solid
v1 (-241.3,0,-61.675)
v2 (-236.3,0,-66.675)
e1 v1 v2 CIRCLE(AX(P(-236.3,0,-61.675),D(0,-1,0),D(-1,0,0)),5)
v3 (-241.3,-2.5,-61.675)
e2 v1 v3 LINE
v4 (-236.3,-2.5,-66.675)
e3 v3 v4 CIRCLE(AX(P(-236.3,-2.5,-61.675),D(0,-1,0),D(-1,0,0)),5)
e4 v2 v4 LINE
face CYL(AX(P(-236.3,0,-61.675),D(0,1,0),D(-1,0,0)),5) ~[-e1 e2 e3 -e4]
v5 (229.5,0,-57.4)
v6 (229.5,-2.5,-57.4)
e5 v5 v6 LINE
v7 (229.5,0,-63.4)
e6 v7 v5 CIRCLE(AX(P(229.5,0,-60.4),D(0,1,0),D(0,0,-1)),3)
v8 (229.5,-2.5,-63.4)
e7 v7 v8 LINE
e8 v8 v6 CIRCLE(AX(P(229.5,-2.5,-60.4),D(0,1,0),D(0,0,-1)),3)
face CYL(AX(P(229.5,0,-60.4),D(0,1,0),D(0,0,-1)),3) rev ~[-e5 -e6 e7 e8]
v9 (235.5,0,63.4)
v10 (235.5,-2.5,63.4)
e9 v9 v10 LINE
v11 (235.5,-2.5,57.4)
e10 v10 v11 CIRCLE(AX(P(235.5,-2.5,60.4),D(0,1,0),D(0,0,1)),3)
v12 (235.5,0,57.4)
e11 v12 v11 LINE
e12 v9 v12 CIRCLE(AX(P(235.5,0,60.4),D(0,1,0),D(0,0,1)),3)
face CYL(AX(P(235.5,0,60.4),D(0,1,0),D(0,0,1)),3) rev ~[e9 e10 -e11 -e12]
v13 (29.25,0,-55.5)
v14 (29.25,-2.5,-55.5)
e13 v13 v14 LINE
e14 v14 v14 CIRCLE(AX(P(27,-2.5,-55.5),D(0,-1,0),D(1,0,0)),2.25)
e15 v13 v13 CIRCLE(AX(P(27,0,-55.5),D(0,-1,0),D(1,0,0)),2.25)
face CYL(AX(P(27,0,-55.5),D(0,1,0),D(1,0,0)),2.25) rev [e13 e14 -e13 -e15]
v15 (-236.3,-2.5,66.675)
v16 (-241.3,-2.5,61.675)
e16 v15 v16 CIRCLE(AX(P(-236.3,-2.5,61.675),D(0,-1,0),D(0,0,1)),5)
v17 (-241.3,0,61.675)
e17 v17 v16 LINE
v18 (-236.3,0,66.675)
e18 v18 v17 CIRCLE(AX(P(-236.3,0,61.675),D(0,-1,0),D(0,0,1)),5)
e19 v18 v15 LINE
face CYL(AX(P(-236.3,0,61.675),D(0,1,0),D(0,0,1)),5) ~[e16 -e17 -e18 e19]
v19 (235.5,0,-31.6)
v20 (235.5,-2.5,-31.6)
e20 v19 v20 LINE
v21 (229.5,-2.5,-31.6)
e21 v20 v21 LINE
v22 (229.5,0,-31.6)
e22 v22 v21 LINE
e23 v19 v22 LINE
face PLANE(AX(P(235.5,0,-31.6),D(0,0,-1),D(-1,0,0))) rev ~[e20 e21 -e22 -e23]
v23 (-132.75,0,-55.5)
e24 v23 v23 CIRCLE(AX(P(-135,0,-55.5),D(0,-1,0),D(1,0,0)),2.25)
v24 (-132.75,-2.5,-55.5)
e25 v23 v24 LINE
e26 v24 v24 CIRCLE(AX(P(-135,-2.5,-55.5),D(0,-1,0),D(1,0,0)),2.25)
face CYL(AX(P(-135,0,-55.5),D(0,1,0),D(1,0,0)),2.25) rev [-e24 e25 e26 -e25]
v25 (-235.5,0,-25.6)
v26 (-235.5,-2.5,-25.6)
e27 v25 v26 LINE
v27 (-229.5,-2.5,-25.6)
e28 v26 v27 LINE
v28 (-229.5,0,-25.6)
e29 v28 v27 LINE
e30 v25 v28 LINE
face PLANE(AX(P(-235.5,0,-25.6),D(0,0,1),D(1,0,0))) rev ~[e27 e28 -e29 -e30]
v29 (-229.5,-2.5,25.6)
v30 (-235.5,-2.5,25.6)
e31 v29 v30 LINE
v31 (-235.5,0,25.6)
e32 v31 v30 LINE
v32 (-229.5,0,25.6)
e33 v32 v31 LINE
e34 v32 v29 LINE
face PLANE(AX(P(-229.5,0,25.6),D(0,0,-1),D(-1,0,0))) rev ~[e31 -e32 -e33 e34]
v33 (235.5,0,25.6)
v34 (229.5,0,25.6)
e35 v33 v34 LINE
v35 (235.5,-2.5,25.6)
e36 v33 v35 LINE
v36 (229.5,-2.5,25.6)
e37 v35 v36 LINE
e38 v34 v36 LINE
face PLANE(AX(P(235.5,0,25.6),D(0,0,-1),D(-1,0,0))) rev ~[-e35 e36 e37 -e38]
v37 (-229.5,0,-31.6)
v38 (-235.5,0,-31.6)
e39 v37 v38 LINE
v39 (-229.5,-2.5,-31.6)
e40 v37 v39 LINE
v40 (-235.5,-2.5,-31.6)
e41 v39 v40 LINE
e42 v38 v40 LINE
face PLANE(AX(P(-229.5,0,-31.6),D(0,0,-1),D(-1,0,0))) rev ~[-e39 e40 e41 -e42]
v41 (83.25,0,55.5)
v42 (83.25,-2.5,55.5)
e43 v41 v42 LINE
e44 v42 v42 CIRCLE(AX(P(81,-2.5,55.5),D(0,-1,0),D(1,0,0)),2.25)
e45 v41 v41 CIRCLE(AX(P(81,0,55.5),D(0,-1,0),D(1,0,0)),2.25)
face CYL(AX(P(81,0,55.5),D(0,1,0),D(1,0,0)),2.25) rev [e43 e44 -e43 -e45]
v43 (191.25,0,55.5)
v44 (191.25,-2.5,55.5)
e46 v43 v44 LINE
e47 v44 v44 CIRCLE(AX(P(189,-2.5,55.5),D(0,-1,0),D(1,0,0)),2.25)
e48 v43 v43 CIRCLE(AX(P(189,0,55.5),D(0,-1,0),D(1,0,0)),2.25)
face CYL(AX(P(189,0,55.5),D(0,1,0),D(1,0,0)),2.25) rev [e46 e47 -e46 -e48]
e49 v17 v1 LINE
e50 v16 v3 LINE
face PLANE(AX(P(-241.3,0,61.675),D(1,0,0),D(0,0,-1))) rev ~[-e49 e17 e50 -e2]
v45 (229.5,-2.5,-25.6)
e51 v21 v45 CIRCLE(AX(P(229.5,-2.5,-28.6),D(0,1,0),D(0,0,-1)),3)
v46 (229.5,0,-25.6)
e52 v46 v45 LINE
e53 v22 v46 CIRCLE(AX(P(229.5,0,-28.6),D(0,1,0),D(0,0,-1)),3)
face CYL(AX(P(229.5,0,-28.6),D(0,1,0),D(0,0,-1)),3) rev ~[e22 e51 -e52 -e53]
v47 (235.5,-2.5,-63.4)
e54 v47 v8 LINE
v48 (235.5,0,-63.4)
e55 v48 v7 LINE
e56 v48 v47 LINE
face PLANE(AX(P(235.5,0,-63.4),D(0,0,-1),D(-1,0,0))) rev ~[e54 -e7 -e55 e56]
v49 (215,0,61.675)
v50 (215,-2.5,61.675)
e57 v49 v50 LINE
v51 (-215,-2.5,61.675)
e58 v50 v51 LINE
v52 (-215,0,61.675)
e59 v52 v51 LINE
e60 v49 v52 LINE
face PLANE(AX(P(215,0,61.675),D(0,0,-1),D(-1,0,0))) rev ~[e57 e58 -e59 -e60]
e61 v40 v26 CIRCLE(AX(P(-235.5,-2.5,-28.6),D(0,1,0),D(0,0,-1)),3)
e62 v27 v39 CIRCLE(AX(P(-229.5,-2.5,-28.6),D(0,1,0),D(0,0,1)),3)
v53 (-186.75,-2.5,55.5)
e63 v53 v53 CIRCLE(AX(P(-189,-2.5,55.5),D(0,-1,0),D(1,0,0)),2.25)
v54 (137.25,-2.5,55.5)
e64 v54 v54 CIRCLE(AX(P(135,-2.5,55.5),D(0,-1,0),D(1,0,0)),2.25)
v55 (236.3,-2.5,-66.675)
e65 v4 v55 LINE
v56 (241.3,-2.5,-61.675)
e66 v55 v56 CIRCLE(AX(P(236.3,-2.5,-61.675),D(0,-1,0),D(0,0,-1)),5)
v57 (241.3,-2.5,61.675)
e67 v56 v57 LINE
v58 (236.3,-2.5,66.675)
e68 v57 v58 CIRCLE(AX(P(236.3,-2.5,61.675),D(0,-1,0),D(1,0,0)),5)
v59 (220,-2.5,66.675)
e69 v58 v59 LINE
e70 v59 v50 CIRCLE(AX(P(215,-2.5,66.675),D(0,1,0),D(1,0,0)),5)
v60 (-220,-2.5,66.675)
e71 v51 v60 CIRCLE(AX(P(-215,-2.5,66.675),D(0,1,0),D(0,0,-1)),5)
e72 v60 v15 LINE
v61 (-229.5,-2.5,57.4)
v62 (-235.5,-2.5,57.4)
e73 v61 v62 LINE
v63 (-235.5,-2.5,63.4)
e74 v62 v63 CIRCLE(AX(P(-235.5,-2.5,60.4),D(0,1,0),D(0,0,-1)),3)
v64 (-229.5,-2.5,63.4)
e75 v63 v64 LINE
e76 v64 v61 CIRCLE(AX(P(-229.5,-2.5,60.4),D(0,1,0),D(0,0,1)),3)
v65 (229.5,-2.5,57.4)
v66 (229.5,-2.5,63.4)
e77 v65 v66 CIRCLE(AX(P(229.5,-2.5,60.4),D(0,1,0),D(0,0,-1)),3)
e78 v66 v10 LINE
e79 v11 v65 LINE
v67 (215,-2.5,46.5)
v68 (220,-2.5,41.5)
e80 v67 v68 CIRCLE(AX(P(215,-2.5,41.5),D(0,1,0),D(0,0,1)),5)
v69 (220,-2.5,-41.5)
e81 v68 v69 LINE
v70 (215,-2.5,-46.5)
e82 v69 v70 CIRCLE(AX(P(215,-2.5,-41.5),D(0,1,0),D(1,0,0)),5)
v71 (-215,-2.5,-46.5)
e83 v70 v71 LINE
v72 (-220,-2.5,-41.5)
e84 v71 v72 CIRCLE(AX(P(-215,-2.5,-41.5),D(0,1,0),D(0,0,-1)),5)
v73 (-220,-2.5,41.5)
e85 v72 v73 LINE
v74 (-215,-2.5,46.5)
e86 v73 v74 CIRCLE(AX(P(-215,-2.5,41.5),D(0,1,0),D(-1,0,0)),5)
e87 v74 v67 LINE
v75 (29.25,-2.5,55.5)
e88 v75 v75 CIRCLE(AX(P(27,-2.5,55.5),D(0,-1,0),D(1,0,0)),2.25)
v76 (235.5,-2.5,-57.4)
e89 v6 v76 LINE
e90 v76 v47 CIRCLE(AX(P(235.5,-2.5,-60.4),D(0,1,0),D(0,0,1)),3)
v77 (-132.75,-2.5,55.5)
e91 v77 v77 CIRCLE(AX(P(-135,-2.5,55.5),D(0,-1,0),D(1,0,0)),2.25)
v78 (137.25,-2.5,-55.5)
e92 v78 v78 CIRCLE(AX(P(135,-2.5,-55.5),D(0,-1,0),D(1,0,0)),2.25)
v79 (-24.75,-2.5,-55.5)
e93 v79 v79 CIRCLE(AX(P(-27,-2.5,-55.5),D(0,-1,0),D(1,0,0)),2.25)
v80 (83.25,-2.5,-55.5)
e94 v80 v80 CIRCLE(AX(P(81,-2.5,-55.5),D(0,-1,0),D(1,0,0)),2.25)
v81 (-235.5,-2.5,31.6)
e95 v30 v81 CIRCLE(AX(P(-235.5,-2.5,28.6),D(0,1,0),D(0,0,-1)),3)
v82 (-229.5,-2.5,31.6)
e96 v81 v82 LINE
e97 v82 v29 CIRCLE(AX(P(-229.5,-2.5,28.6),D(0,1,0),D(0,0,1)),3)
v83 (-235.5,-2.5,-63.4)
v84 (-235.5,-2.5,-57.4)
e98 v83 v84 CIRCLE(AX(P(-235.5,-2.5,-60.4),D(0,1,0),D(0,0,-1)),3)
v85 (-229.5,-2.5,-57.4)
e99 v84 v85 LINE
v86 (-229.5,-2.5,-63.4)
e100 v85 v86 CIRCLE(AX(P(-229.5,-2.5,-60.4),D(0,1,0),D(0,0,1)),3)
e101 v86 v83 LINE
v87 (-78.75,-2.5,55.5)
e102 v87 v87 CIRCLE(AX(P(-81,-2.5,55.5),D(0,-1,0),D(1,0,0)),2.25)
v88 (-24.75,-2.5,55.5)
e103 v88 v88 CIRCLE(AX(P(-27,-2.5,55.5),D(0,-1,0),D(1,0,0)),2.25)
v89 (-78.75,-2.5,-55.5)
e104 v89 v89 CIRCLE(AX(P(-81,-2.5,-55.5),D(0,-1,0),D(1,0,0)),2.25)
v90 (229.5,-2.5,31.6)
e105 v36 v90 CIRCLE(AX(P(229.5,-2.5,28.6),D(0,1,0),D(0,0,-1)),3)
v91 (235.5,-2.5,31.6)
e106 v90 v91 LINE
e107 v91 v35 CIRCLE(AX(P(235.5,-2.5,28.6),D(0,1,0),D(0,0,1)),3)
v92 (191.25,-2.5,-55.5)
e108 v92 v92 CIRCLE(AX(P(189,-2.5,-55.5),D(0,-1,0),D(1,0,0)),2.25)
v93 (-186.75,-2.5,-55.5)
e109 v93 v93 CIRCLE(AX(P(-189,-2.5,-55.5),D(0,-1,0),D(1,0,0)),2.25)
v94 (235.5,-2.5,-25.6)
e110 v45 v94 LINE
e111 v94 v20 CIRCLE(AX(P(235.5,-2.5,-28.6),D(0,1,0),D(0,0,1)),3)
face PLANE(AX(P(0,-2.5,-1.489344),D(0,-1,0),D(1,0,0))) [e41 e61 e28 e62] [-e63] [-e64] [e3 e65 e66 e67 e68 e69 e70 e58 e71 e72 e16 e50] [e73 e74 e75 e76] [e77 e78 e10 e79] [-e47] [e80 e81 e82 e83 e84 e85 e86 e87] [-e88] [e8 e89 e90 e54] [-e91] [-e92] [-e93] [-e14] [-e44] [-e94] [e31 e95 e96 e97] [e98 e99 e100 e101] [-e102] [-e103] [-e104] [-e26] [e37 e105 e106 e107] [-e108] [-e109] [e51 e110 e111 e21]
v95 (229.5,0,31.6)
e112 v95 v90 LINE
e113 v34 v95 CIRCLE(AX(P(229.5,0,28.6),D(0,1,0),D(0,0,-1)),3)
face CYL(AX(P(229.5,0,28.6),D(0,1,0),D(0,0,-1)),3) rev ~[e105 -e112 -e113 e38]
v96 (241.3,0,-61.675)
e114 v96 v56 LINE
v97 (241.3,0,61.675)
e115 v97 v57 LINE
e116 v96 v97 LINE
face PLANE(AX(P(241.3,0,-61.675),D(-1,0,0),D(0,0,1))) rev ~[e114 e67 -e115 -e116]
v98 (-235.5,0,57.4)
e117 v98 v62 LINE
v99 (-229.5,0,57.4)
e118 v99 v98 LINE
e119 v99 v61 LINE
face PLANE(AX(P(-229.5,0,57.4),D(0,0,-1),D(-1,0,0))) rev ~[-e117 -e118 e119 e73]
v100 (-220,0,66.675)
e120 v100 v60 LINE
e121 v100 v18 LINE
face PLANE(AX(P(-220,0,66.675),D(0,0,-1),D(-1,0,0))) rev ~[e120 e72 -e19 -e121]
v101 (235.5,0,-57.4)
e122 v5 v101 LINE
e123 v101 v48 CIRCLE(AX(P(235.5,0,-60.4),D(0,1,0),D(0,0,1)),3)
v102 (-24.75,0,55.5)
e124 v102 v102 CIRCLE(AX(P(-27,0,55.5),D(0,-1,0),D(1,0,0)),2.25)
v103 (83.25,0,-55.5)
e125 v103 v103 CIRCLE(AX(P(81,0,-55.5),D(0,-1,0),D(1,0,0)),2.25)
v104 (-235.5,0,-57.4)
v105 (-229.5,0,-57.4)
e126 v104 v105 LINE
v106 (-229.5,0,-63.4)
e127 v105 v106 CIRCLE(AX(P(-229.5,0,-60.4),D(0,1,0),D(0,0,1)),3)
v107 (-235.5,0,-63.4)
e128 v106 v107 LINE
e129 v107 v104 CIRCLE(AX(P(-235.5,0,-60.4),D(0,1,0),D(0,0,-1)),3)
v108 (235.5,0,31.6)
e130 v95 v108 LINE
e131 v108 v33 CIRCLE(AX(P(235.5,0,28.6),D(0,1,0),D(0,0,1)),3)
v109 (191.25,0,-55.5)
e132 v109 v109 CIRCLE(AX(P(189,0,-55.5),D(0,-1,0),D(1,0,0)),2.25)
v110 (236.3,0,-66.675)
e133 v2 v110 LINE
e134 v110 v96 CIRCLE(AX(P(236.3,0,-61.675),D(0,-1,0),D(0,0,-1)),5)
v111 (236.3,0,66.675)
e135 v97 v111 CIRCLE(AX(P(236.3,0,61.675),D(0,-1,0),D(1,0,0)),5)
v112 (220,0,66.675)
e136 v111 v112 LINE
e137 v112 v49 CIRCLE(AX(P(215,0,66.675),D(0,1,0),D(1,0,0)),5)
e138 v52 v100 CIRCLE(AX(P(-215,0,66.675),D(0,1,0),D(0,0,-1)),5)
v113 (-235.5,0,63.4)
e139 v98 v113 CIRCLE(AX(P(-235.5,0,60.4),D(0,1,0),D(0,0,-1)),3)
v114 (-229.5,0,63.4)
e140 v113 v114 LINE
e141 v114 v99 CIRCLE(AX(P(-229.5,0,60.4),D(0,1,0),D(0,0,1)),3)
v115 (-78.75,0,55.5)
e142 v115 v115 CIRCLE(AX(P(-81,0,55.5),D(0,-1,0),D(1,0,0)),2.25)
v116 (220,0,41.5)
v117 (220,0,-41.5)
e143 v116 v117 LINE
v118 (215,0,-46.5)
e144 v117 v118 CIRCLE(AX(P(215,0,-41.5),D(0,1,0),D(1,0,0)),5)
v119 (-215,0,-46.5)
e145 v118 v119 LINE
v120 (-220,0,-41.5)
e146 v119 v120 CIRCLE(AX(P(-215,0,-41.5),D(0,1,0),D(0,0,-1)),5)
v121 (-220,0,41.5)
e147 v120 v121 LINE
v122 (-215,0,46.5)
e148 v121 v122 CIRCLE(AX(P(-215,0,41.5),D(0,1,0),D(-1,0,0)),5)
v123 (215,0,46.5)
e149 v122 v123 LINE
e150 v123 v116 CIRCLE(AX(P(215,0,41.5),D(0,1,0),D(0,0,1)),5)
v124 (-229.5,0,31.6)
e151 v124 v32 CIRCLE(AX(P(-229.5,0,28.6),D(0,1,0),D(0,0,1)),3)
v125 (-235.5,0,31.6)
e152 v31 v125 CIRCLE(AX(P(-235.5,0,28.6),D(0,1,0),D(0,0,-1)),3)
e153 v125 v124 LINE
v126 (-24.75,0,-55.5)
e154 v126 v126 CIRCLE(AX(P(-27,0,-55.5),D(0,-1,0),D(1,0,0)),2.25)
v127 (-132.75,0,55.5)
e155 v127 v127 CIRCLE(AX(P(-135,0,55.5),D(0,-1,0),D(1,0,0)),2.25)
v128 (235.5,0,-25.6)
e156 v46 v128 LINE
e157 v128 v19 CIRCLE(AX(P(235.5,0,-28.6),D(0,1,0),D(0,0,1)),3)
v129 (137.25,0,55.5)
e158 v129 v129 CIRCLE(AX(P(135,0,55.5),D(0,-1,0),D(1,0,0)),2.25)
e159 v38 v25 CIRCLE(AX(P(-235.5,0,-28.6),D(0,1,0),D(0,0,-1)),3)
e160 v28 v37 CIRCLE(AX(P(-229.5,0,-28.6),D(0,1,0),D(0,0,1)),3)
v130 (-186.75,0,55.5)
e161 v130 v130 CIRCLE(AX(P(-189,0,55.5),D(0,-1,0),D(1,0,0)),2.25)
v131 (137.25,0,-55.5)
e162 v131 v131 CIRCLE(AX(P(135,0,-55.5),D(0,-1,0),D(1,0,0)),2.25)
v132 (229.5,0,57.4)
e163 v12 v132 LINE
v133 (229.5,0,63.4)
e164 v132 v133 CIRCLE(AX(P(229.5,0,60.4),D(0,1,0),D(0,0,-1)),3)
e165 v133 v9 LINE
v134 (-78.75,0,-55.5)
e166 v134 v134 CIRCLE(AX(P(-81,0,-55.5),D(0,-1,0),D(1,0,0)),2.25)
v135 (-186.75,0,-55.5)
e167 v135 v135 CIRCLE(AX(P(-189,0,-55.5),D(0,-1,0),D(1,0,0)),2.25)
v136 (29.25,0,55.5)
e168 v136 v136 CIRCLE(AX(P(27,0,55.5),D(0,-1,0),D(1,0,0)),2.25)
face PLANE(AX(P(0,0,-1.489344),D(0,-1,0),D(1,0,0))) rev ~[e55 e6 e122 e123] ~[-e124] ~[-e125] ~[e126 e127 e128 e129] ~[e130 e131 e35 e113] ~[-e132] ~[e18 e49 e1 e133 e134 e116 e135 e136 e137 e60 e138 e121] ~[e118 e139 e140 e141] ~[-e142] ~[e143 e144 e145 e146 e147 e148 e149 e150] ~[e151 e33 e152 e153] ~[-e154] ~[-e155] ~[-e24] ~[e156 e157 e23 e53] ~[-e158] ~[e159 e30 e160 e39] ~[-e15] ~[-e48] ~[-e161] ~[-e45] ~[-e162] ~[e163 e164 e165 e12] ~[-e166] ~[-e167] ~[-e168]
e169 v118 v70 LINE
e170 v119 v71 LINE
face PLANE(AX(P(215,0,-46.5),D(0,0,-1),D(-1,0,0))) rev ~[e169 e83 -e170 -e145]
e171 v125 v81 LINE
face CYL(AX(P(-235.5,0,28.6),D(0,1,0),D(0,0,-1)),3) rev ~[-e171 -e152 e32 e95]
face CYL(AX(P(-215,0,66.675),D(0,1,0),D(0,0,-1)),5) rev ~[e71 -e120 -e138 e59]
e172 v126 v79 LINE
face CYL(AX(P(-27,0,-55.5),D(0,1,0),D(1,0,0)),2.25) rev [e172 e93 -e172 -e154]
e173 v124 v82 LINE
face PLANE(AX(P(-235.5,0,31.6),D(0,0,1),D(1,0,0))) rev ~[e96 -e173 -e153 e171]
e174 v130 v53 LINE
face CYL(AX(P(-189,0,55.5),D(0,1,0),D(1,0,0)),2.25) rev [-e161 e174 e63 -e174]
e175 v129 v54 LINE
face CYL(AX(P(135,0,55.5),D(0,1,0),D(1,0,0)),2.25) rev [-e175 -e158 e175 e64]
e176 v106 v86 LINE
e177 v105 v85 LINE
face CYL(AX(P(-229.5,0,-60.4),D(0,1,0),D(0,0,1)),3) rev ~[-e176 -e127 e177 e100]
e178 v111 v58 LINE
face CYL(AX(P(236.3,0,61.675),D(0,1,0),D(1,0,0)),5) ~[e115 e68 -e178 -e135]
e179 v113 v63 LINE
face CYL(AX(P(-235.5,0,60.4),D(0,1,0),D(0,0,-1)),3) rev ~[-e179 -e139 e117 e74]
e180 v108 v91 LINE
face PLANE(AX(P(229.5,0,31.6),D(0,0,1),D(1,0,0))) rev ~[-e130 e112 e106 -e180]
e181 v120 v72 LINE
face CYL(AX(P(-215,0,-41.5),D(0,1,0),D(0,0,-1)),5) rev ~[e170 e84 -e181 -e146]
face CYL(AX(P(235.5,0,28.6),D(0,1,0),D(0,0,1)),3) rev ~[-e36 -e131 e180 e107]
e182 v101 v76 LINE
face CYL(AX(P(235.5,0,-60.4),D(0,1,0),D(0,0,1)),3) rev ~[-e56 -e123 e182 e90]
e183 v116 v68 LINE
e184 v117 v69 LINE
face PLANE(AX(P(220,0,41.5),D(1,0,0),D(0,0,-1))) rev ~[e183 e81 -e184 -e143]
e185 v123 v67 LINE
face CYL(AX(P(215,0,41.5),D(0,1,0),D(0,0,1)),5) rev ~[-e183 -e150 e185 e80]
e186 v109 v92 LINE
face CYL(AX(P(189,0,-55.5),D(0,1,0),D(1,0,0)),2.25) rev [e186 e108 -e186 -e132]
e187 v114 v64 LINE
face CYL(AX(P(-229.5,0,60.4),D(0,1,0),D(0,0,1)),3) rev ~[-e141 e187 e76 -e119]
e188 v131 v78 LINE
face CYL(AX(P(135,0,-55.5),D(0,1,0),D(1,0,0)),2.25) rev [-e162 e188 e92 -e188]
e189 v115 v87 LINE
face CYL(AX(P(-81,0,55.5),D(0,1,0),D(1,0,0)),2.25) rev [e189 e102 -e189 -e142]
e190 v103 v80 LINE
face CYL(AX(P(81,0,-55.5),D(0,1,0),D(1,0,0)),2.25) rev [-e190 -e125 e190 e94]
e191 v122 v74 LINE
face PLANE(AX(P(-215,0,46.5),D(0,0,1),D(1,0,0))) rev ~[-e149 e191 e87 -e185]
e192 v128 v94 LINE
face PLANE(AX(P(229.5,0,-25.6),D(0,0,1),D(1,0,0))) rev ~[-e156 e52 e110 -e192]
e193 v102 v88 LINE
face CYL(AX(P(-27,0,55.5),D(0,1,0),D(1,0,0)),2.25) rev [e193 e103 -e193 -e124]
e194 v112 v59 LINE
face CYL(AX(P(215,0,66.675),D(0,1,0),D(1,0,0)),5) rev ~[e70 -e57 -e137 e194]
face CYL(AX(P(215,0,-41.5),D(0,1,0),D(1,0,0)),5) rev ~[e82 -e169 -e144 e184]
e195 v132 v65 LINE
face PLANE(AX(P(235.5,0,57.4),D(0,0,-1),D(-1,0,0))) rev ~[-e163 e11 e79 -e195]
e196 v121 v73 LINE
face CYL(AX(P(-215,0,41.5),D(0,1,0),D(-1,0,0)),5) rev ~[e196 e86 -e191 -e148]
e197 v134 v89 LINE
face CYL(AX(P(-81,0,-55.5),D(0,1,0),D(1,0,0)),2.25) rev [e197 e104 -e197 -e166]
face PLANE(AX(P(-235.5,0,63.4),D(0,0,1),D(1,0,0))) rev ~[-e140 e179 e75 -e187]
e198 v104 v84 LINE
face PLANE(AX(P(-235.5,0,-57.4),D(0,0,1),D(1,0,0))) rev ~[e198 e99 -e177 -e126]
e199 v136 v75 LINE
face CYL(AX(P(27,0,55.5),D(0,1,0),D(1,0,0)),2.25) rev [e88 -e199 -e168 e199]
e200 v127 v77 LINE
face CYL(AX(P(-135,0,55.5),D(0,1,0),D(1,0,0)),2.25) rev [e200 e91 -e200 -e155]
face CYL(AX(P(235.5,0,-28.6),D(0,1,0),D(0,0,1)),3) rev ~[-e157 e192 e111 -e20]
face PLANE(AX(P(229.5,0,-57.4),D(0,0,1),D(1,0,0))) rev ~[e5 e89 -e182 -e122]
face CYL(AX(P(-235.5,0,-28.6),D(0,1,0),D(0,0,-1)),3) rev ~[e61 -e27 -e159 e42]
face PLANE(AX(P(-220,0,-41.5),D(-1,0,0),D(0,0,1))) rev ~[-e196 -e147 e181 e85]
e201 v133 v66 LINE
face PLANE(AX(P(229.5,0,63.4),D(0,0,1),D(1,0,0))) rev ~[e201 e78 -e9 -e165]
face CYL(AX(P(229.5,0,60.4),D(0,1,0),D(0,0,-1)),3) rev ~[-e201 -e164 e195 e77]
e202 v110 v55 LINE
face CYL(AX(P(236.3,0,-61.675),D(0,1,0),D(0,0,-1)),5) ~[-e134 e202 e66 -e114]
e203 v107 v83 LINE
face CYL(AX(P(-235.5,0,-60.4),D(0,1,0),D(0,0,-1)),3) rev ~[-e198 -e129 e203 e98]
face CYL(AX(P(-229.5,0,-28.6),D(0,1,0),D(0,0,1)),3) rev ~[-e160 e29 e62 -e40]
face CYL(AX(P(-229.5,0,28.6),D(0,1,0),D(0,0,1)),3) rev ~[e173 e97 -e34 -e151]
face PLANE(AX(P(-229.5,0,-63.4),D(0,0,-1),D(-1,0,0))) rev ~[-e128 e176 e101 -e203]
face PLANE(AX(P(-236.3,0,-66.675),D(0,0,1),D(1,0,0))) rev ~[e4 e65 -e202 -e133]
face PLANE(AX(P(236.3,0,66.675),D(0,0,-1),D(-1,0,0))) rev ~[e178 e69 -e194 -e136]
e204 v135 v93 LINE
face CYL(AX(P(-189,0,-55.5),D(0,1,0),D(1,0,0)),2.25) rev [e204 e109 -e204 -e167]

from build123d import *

# Parameters (mm, degrees)
F1_R     = 2.25
F2_DEPTH = 2.5


with BuildPart() as f2:
    # F1 (on face) → F2 (new body)
    with BuildSketch(Plane.XZ):
        with BuildLine():
            Line((241.3, -61.675), (241.3, 61.675))
            ThreePointArc((241.3, 61.675), (239.8355339059, 65.2105339059), (236.3, 66.675))
            Line((236.3, 66.675), (220, 66.675))
            ThreePointArc((220, 66.675), (218.5355339059, 63.1394660941), (215, 61.675))
            Line((215, 61.675), (-215, 61.675))
            ThreePointArc((-215, 61.675), (-218.5355339059, 63.1394660941), (-220, 66.675))
            Line((-220, 66.675), (-236.3, 66.675))
            ThreePointArc((-236.3, 66.675), (-239.8355339059, 65.2105339059), (-241.3, 61.675))
            Line((-241.3, 61.675), (-241.3, -61.675))
            ThreePointArc((-241.3, -61.675), (-239.8355339059, -65.2105339059), (-236.3, -66.675))
            Line((-236.3, -66.675), (236.3, -66.675))
            ThreePointArc((236.3, -66.675), (239.8355339059, -65.2105339059), (241.3, -61.675))
        make_face()
        with BuildLine():
            Line((-235.5, -57.4), (-229.5, -57.4))
            ThreePointArc((-229.5, -57.4), (-226.5, -60.4), (-229.5, -63.4))
            Line((-229.5, -63.4), (-235.5, -63.4))
            ThreePointArc((-235.5, -63.4), (-238.5, -60.4), (-235.5, -57.4))
        make_face(mode=Mode.SUBTRACT)
        with Locations((-189, -55.5)):
            Circle(F1_R, mode=Mode.SUBTRACT)
        with Locations((-135, -55.5)):
            Circle(F1_R, mode=Mode.SUBTRACT)
        with Locations((-81, -55.5)):
            Circle(F1_R, mode=Mode.SUBTRACT)
        with Locations((-27, -55.5)):
            Circle(F1_R, mode=Mode.SUBTRACT)
        with BuildLine():
            Line((-235.5, -25.6), (-229.5, -25.6))
            ThreePointArc((-229.5, -25.6), (-226.5, -28.6), (-229.5, -31.6))
            Line((-229.5, -31.6), (-235.5, -31.6))
            ThreePointArc((-235.5, -31.6), (-238.5, -28.6), (-235.5, -25.6))
        make_face(mode=Mode.SUBTRACT)
        with Locations((27, -55.5)):
            Circle(F1_R, mode=Mode.SUBTRACT)
        with Locations((81, -55.5)):
            Circle(F1_R, mode=Mode.SUBTRACT)
        with Locations((135, -55.5)):
            Circle(F1_R, mode=Mode.SUBTRACT)
        with BuildLine():
            Line((229.5, -57.4), (235.5, -57.4))
            ThreePointArc((235.5, -57.4), (238.5, -60.4), (235.5, -63.4))
            Line((235.5, -63.4), (229.5, -63.4))
            ThreePointArc((229.5, -63.4), (226.5, -60.4), (229.5, -57.4))
        make_face(mode=Mode.SUBTRACT)
        with Locations((189, -55.5)):
            Circle(F1_R, mode=Mode.SUBTRACT)
        with BuildLine():
            Line((229.5, -25.6), (235.5, -25.6))
            ThreePointArc((235.5, -25.6), (238.5, -28.6), (235.5, -31.6))
            Line((235.5, -31.6), (229.5, -31.6))
            ThreePointArc((229.5, -31.6), (226.5, -28.6), (229.5, -25.6))
        make_face(mode=Mode.SUBTRACT)
        with BuildLine():
            Line((-235.5, 31.6), (-229.5, 31.6))
            ThreePointArc((-229.5, 31.6), (-226.5, 28.6), (-229.5, 25.6))
            Line((-229.5, 25.6), (-235.5, 25.6))
            ThreePointArc((-235.5, 25.6), (-238.5, 28.6), (-235.5, 31.6))
        make_face(mode=Mode.SUBTRACT)
        with Locations((-189, 55.5)):
            Circle(F1_R, mode=Mode.SUBTRACT)
        with BuildLine():
            Line((-235.5, 63.4), (-229.5, 63.4))
            ThreePointArc((-229.5, 63.4), (-226.5, 60.4), (-229.5, 57.4))
            Line((-229.5, 57.4), (-235.5, 57.4))
            ThreePointArc((-235.5, 57.4), (-238.5, 60.4), (-235.5, 63.4))
        make_face(mode=Mode.SUBTRACT)
        with Locations((-135, 55.5)):
            Circle(F1_R, mode=Mode.SUBTRACT)
        with Locations((-81, 55.5)):
            Circle(F1_R, mode=Mode.SUBTRACT)
        with Locations((-27, 55.5)):
            Circle(F1_R, mode=Mode.SUBTRACT)
        with BuildLine():
            Line((-215, 46.5), (215, 46.5))
            ThreePointArc((215, 46.5), (218.5355339059, 45.0355339059), (220, 41.5))
            Line((220, 41.5), (220, -41.5))
            ThreePointArc((220, -41.5), (218.5355339059, -45.0355339059), (215, -46.5))
            Line((215, -46.5), (-215, -46.5))
            ThreePointArc((-215, -46.5), (-218.5355339059, -45.0355339059), (-220, -41.5))
            Line((-220, -41.5), (-220, 41.5))
            ThreePointArc((-220, 41.5), (-218.5355339059, 45.0355339059), (-215, 46.5))
        make_face(mode=Mode.SUBTRACT)
        with BuildLine():
            Line((229.5, 31.6), (235.5, 31.6))
            ThreePointArc((235.5, 31.6), (238.5, 28.6), (235.5, 25.6))
            Line((235.5, 25.6), (229.5, 25.6))
            ThreePointArc((229.5, 25.6), (226.5, 28.6), (229.5, 31.6))
        make_face(mode=Mode.SUBTRACT)
        with Locations((27, 55.5)):
            Circle(F1_R, mode=Mode.SUBTRACT)
        with Locations((81, 55.5)):
            Circle(F1_R, mode=Mode.SUBTRACT)
        with Locations((135, 55.5)):
            Circle(F1_R, mode=Mode.SUBTRACT)
        with Locations((189, 55.5)):
            Circle(F1_R, mode=Mode.SUBTRACT)
        with BuildLine():
            Line((229.5, 63.4), (235.5, 63.4))
            ThreePointArc((235.5, 63.4), (238.5, 60.4), (235.5, 57.4))
            Line((235.5, 57.4), (229.5, 57.4))
            ThreePointArc((229.5, 57.4), (226.5, 60.4), (229.5, 63.4))
        make_face(mode=Mode.SUBTRACT)
    extrude(amount=F2_DEPTH)


solid = f2.part
